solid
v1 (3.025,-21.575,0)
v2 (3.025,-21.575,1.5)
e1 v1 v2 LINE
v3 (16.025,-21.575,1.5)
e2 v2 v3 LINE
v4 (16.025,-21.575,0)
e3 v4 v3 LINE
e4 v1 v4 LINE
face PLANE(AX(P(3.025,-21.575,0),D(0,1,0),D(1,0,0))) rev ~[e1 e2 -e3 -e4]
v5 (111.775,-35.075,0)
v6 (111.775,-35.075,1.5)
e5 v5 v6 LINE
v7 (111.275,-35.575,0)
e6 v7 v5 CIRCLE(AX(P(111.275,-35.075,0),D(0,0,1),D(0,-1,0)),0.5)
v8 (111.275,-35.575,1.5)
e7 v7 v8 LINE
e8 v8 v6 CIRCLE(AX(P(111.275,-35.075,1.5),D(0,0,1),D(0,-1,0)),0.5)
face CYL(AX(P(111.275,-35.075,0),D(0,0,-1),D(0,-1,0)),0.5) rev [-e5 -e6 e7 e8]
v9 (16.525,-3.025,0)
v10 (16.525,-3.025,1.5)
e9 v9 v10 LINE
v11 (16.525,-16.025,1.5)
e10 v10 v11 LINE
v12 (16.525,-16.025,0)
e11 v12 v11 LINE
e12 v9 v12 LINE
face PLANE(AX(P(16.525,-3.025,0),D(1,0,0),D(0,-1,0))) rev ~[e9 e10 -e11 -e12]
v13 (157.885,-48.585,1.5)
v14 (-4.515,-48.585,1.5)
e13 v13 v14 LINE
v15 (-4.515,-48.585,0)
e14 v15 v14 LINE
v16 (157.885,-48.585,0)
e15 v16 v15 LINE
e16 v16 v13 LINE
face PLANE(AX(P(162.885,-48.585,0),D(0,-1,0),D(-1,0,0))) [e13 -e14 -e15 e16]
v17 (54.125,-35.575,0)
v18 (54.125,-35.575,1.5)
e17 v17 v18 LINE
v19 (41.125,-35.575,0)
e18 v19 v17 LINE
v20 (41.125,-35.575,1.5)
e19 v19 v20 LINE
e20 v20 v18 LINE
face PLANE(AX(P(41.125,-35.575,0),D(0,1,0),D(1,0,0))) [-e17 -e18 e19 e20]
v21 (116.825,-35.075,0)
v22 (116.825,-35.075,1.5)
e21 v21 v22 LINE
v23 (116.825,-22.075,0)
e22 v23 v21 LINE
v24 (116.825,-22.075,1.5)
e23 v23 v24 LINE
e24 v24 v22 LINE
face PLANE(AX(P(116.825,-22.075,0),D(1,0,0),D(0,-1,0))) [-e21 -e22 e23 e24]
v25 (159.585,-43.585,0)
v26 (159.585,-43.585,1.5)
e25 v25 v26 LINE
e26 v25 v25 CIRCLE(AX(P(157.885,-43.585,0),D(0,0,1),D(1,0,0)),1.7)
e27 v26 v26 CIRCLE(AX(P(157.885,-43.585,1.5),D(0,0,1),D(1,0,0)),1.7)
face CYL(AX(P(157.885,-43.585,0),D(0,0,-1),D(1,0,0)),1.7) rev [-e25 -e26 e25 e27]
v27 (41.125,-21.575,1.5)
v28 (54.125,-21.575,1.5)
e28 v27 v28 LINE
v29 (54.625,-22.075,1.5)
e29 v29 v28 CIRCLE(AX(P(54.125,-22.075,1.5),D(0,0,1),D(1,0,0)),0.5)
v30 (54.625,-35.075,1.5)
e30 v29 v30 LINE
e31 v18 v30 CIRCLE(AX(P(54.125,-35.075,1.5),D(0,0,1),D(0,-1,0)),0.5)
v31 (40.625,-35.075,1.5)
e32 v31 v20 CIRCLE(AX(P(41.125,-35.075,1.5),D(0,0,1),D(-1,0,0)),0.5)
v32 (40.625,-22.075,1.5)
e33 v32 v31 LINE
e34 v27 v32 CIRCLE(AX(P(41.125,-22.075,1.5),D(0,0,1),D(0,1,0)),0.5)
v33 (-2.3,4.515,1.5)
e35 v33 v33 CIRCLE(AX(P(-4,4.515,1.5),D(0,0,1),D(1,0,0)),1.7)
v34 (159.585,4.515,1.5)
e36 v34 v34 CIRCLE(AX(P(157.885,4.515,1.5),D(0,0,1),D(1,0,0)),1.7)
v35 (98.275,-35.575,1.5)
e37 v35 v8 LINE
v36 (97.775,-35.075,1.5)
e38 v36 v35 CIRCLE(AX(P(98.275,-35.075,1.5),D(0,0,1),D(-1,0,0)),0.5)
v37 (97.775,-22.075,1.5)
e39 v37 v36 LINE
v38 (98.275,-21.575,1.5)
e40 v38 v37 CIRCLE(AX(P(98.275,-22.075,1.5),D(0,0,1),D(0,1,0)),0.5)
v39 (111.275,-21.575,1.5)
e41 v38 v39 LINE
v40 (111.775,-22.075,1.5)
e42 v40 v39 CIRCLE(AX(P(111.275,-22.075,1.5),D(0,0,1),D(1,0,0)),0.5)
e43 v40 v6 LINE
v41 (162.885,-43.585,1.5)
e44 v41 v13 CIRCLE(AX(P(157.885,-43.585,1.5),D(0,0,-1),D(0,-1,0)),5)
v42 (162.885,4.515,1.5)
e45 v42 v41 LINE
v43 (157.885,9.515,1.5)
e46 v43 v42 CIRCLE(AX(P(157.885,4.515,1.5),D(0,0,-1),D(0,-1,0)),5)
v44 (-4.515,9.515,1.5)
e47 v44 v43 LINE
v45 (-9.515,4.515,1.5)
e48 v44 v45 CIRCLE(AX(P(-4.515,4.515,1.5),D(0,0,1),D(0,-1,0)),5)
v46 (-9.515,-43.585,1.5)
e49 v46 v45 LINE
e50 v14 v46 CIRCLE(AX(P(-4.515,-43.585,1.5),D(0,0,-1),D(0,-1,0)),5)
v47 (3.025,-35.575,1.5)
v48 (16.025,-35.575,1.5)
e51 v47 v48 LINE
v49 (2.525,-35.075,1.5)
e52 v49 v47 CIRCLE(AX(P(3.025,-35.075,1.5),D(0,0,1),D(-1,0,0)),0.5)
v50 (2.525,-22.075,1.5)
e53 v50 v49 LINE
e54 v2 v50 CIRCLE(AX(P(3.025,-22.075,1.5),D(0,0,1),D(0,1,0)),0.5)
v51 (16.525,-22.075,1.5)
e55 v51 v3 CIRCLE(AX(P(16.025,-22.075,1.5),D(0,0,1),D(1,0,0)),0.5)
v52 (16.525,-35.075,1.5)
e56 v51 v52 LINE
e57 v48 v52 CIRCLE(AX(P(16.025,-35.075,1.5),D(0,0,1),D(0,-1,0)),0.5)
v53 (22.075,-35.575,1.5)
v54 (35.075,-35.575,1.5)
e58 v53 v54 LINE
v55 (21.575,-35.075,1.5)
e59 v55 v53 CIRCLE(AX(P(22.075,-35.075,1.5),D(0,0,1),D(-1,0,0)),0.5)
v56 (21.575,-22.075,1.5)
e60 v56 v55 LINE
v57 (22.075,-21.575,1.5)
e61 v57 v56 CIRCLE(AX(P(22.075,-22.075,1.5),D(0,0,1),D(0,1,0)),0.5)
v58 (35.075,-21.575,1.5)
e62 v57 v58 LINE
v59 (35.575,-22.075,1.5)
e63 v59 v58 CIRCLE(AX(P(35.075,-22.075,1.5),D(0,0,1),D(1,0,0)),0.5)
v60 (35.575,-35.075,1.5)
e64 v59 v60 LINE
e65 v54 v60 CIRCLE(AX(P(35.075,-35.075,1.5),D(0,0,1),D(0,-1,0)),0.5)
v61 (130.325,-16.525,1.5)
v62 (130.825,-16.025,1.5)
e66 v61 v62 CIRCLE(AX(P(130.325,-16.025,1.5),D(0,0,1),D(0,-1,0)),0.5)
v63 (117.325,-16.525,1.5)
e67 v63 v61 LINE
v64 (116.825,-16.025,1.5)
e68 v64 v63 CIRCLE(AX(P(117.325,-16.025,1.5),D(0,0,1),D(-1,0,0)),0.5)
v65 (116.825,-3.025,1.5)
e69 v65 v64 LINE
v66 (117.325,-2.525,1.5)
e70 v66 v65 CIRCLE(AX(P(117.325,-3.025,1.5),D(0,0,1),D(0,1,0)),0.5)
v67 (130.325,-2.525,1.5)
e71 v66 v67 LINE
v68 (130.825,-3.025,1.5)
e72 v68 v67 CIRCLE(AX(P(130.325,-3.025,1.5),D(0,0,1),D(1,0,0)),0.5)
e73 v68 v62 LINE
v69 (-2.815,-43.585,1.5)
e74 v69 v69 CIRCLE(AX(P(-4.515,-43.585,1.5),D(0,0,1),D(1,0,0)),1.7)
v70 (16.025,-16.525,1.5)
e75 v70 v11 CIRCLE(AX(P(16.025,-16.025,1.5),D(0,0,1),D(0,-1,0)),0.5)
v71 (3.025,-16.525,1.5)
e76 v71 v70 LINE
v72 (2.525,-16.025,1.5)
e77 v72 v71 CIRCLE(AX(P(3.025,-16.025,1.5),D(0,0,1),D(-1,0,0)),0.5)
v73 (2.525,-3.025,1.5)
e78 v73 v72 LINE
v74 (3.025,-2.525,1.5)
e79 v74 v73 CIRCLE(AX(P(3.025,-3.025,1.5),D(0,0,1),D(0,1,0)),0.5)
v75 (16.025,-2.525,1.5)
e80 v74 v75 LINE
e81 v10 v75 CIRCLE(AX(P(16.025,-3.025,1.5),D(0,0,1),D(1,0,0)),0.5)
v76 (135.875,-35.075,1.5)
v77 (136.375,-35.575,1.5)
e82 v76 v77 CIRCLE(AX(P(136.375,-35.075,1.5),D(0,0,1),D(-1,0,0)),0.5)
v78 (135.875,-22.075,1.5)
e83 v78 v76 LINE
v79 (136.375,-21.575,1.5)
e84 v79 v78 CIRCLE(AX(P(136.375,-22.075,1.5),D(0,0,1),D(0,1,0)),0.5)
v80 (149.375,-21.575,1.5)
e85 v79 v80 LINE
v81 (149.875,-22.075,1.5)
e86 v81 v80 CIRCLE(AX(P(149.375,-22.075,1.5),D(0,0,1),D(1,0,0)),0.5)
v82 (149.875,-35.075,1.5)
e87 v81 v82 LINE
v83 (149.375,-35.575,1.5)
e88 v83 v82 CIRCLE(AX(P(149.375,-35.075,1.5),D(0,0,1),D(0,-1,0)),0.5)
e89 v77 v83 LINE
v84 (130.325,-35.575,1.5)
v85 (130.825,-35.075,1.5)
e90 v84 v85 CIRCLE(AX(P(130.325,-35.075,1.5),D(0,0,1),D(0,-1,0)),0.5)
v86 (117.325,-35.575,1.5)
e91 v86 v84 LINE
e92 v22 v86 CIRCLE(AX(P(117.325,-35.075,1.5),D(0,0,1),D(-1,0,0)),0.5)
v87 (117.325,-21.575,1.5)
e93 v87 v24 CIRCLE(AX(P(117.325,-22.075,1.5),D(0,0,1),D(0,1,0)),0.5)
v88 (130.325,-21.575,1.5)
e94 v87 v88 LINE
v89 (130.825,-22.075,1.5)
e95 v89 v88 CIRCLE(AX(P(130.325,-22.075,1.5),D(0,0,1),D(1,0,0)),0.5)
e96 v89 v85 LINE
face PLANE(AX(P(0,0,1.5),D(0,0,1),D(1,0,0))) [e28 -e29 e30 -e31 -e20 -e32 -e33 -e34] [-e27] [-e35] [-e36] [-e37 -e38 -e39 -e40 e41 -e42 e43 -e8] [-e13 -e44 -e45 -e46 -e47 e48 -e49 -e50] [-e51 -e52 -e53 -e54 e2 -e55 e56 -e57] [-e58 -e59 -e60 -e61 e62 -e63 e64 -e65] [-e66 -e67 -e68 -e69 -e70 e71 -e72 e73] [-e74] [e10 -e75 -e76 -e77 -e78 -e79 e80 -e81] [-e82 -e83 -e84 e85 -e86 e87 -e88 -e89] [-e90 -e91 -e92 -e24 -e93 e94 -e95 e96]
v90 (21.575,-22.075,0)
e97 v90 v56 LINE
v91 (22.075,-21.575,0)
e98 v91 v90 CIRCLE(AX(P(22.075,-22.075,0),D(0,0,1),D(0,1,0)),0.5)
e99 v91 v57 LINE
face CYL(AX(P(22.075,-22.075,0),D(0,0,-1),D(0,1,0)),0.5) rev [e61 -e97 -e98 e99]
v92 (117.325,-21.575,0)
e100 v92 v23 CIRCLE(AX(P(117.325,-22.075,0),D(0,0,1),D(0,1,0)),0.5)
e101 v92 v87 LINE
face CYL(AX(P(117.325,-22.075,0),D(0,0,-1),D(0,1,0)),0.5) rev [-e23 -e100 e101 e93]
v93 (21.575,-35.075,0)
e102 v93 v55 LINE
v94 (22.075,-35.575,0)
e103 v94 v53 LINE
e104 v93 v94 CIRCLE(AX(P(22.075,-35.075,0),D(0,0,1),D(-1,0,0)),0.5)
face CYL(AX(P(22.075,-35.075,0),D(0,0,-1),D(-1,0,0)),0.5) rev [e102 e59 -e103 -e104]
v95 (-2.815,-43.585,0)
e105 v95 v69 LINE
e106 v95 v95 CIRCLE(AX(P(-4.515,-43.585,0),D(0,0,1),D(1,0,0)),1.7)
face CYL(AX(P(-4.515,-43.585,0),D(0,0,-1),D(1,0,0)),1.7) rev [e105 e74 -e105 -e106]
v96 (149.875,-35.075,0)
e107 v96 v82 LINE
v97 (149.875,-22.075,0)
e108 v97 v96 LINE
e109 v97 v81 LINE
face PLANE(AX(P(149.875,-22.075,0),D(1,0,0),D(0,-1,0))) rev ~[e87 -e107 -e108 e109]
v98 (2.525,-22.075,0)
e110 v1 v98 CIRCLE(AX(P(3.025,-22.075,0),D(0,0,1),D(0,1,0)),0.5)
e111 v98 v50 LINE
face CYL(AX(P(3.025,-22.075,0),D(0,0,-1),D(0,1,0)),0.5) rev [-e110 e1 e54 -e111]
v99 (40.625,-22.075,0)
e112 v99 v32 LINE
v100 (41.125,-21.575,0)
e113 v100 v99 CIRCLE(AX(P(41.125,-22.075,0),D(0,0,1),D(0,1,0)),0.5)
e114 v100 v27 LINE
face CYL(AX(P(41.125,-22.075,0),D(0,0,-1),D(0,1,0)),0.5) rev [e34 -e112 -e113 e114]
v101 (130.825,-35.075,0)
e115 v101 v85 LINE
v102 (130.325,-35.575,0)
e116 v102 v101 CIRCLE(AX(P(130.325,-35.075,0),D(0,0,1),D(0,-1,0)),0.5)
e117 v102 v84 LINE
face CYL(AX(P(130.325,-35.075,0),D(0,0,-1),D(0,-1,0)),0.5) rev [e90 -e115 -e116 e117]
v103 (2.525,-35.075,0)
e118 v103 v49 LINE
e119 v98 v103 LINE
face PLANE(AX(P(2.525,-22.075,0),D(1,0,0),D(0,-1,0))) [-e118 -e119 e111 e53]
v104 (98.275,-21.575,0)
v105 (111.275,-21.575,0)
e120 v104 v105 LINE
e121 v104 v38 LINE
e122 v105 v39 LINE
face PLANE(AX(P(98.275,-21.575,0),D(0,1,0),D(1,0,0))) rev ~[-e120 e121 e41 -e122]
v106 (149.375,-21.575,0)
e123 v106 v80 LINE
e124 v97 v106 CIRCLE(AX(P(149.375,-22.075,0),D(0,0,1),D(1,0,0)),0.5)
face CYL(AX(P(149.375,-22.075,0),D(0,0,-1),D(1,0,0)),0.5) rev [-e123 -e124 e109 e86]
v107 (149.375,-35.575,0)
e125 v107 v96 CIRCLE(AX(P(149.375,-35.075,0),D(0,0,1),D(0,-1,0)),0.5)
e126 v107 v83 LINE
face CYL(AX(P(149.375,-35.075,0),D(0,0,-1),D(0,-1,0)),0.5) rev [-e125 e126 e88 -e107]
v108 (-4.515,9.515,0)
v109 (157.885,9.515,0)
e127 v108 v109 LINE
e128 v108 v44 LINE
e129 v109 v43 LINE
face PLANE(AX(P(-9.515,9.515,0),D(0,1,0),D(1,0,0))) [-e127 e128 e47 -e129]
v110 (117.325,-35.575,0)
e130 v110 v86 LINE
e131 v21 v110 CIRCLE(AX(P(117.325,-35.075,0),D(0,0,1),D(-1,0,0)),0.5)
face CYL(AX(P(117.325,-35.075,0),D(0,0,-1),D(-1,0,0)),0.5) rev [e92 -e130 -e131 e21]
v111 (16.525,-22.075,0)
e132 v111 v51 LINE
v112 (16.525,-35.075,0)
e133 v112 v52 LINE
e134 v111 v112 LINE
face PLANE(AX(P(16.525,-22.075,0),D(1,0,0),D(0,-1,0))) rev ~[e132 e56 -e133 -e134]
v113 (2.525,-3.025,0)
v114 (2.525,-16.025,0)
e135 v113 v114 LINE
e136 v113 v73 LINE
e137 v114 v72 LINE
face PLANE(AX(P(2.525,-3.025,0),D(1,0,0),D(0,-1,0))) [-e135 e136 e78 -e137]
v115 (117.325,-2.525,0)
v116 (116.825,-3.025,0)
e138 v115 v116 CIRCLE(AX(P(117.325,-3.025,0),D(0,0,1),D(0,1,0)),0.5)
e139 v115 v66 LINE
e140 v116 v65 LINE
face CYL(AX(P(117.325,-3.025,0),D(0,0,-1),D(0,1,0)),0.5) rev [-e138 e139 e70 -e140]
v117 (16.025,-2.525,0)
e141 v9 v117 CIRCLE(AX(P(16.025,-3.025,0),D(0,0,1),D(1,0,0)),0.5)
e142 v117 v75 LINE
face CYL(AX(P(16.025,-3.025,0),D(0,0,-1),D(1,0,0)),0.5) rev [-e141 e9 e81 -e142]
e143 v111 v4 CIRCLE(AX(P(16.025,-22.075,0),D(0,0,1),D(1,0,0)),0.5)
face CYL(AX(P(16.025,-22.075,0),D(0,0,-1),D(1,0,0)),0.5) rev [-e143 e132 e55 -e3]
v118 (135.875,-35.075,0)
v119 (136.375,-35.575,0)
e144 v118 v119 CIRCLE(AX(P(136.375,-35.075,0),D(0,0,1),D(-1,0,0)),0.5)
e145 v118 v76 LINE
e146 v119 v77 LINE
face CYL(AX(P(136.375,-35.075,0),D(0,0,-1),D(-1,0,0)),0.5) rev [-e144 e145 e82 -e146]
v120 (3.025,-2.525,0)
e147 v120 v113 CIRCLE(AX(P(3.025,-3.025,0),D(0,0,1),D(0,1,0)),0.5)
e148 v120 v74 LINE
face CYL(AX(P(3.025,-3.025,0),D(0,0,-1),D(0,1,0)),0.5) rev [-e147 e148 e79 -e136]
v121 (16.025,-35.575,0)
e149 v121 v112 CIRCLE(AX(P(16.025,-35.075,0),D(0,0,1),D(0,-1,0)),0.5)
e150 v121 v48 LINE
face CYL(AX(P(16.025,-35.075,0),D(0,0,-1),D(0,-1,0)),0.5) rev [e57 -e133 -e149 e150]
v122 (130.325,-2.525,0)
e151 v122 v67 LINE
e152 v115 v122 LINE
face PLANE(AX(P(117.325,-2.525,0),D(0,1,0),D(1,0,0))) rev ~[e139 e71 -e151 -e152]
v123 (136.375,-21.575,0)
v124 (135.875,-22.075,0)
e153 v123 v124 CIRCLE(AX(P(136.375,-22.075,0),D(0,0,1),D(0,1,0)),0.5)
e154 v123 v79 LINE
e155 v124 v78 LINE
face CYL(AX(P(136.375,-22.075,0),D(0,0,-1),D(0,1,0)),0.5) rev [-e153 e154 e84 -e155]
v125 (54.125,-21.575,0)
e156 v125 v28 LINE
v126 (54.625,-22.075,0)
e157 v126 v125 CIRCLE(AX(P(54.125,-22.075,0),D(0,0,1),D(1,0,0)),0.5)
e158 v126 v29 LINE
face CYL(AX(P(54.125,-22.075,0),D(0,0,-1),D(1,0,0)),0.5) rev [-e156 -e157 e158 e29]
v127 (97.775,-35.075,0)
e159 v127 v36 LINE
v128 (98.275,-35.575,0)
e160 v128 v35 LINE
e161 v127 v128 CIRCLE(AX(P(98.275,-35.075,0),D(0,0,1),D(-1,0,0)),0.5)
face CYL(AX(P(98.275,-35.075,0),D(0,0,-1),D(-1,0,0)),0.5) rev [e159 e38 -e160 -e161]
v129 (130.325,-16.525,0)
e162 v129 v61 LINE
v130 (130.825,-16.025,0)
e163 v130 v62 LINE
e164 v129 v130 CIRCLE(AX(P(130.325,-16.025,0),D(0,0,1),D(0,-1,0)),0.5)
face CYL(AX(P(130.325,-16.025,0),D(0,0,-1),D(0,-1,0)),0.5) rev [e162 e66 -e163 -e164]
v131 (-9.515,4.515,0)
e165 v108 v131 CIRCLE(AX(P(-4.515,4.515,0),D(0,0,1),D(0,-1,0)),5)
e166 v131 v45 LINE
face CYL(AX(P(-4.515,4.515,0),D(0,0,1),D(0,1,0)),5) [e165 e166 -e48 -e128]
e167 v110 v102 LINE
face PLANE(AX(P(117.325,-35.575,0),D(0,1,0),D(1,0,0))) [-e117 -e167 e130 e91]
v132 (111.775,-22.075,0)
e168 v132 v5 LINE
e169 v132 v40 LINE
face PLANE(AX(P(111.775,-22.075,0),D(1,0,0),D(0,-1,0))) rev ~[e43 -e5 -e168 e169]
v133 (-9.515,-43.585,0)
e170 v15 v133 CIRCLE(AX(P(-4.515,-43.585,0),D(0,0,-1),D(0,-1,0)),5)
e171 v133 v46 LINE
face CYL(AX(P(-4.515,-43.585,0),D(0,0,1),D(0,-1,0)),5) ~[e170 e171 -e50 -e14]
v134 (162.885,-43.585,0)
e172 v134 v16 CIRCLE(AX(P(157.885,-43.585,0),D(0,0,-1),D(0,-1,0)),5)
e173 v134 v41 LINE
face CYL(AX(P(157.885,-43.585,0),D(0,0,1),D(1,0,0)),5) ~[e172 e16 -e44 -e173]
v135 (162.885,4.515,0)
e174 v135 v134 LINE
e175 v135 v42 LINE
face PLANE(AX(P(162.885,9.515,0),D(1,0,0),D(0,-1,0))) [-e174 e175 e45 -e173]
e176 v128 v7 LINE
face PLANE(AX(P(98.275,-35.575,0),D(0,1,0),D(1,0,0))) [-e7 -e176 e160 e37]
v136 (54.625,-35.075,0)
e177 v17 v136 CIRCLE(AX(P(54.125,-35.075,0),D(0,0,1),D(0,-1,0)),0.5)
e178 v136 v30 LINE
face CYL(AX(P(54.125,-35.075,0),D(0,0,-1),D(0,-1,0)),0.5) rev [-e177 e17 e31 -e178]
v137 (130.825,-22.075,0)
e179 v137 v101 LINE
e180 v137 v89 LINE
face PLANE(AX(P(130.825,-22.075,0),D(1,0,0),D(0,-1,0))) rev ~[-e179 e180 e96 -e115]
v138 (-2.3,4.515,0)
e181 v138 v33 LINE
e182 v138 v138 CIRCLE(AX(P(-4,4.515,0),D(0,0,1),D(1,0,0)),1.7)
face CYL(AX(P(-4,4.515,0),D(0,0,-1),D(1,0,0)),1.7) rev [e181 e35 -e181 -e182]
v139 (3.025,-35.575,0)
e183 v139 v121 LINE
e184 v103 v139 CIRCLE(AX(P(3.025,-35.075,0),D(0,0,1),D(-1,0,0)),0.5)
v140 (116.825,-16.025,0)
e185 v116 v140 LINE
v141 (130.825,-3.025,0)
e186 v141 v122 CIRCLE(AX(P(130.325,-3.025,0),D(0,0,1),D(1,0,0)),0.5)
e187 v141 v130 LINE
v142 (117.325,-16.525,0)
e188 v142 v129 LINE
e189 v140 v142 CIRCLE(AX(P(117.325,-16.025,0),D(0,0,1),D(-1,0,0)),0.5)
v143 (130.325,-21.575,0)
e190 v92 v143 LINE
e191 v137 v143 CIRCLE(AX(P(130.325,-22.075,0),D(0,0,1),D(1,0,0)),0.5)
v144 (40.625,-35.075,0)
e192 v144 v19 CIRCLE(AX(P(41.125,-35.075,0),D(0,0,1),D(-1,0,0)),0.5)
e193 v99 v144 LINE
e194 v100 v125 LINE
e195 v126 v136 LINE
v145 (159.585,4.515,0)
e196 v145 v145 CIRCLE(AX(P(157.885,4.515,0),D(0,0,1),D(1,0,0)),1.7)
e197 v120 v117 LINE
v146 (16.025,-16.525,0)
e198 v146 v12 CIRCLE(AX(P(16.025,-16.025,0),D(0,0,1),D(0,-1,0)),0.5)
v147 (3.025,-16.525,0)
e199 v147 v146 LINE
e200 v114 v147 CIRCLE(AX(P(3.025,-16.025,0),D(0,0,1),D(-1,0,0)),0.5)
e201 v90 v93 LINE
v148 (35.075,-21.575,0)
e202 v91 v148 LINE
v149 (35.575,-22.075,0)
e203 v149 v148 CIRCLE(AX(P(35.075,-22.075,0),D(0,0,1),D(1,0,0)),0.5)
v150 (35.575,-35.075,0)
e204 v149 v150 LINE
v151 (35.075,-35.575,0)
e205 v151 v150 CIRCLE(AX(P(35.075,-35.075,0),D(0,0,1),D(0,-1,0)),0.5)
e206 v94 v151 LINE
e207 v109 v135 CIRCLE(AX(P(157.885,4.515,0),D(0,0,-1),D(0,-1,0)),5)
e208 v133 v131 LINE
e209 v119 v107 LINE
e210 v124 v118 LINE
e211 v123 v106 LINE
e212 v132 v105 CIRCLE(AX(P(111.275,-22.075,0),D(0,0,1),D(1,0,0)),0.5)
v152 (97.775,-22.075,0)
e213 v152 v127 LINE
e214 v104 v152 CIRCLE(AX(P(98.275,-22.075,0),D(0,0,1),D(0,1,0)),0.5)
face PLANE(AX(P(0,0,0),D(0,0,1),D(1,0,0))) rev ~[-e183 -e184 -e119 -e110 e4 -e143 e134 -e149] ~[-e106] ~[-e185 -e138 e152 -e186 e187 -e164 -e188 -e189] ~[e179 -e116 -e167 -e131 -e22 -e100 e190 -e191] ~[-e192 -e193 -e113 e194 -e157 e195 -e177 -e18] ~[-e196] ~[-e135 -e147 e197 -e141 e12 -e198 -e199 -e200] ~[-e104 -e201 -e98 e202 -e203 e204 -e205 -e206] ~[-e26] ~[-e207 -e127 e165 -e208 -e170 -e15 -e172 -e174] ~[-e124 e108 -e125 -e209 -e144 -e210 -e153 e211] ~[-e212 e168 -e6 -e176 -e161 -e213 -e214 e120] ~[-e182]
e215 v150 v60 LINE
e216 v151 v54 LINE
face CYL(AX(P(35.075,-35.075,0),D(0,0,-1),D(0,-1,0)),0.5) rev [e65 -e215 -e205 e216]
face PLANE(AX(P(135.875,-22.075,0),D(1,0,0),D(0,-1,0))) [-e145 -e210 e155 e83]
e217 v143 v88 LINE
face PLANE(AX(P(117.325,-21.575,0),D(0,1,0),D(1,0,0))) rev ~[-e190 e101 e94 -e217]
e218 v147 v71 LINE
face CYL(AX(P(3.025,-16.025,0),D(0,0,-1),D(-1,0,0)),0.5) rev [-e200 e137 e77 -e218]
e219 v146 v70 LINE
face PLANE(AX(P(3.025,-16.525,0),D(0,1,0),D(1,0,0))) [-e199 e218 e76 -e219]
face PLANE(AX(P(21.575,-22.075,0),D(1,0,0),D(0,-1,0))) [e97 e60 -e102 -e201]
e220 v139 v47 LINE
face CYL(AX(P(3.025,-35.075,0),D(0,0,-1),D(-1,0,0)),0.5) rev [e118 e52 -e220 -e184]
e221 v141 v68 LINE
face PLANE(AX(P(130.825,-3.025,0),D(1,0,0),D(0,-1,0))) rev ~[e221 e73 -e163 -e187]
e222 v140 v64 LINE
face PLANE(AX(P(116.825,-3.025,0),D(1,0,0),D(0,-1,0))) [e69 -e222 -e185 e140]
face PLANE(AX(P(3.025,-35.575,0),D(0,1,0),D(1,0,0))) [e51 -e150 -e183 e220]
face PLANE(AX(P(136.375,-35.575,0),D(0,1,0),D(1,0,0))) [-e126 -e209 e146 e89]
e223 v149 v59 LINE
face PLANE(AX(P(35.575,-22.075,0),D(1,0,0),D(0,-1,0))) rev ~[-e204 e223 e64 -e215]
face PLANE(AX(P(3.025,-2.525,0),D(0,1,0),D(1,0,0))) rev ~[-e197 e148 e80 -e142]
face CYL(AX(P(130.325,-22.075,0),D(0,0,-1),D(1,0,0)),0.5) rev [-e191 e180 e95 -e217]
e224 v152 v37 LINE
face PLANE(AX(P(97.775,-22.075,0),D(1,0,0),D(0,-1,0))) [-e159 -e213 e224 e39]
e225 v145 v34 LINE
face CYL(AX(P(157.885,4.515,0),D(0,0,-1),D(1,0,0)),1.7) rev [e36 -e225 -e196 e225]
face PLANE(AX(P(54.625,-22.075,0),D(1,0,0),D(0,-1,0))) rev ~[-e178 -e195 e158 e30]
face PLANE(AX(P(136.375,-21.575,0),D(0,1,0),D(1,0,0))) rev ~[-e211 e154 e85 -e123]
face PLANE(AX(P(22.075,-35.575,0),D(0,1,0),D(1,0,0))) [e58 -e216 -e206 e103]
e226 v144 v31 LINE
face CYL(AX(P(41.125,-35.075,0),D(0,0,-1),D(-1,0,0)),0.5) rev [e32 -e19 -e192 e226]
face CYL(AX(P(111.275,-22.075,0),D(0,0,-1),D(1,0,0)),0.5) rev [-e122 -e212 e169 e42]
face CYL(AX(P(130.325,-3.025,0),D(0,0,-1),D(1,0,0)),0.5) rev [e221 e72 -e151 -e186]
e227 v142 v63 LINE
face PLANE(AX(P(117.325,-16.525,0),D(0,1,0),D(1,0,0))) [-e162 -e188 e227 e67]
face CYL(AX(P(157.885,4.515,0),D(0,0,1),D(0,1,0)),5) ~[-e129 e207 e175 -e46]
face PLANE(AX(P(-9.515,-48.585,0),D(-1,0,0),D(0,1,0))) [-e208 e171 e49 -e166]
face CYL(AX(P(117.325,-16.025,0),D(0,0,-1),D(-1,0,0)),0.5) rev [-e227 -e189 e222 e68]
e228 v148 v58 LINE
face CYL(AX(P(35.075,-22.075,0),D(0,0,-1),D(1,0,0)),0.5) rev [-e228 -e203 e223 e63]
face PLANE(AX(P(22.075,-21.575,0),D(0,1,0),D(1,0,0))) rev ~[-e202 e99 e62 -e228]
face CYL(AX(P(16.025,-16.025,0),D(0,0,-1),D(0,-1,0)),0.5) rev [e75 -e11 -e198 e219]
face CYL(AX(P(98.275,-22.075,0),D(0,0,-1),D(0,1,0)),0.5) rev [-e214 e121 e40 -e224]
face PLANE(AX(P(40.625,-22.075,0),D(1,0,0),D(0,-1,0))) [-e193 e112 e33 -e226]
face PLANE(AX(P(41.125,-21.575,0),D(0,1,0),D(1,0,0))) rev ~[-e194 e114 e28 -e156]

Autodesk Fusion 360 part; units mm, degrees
sketch "plate" plane through (0, 0, 0) normal (0, 0, 1) x (1, 0, 0)
  line L0 (3.025, -2.525) -> (16.025, -2.525)
  line L1 (3.025, -16.525) -> (16.025, -16.525)
  line L2 (2.525, -3.025) -> (2.525, -16.025)
  line L3 (16.525, -3.025) -> (16.525, -16.025)
  arc A0 (3.025, -2.525) -> (2.525, -3.025) centre (3.025, -3.025) ccw
  arc A1 (16.525, -3.025) -> (16.025, -2.525) centre (16.025, -3.025) ccw
  arc A2 (2.525, -16.025) -> (3.025, -16.525) centre (3.025, -16.025) ccw
  arc A3 (16.025, -16.525) -> (16.525, -16.025) centre (16.025, -16.025) ccw
  line L4 (117.325, -2.525) -> (130.325, -2.525)
  line L5 (117.325, -16.525) -> (130.325, -16.525)
  line L6 (116.825, -3.025) -> (116.825, -16.025)
  line L7 (130.825, -3.025) -> (130.825, -16.025)
  arc A4 (117.325, -2.525) -> (116.825, -3.025) centre (117.325, -3.025) ccw
  arc A5 (130.825, -3.025) -> (130.325, -2.525) centre (130.325, -3.025) ccw
  arc A6 (116.825, -16.025) -> (117.325, -16.525) centre (117.325, -16.025) ccw
  arc A7 (130.325, -16.525) -> (130.825, -16.025) centre (130.325, -16.025) ccw
  line L8 (3.025, -21.575) -> (16.025, -21.575)
  line L9 (3.025, -35.575) -> (16.025, -35.575)
  line L10 (2.525, -22.075) -> (2.525, -35.075)
  line L11 (16.525, -22.075) -> (16.525, -35.075)
  arc A8 (3.025, -21.575) -> (2.525, -22.075) centre (3.025, -22.075) ccw
  arc A9 (16.525, -22.075) -> (16.025, -21.575) centre (16.025, -22.075) ccw
  arc A10 (2.525, -35.075) -> (3.025, -35.575) centre (3.025, -35.075) ccw
  arc A11 (16.025, -35.575) -> (16.525, -35.075) centre (16.025, -35.075) ccw
  line L12 (22.075, -21.575) -> (35.075, -21.575)
  line L13 (22.075, -35.575) -> (35.075, -35.575)
  line L14 (21.575, -22.075) -> (21.575, -35.075)
  line L15 (35.575, -22.075) -> (35.575, -35.075)
  arc A12 (22.075, -21.575) -> (21.575, -22.075) centre (22.075, -22.075) ccw
  arc A13 (35.575, -22.075) -> (35.075, -21.575) centre (35.075, -22.075) ccw
  arc A14 (21.575, -35.075) -> (22.075, -35.575) centre (22.075, -35.075) ccw
  arc A15 (35.075, -35.575) -> (35.575, -35.075) centre (35.075, -35.075) ccw
  line L16 (41.125, -21.575) -> (54.125, -21.575)
  line L17 (41.125, -35.575) -> (54.125, -35.575)
  line L18 (40.625, -22.075) -> (40.625, -35.075)
  line L19 (54.625, -22.075) -> (54.625, -35.075)
  arc A16 (41.125, -21.575) -> (40.625, -22.075) centre (41.125, -22.075) ccw
  arc A17 (54.625, -22.075) -> (54.125, -21.575) centre (54.125, -22.075) ccw
  arc A18 (40.625, -35.075) -> (41.125, -35.575) centre (41.125, -35.075) ccw
  arc A19 (54.125, -35.575) -> (54.625, -35.075) centre (54.125, -35.075) ccw
  line L20 (98.275, -21.575) -> (111.275, -21.575)
  line L21 (98.275, -35.575) -> (111.275, -35.575)
  line L22 (97.775, -22.075) -> (97.775, -35.075)
  line L23 (111.775, -22.075) -> (111.775, -35.075)
  arc A20 (98.275, -21.575) -> (97.775, -22.075) centre (98.275, -22.075) ccw
  arc A21 (111.775, -22.075) -> (111.275, -21.575) centre (111.275, -22.075) ccw
  arc A22 (97.775, -35.075) -> (98.275, -35.575) centre (98.275, -35.075) ccw
  arc A23 (111.275, -35.575) -> (111.775, -35.075) centre (111.275, -35.075) ccw
  line L24 (117.325, -21.575) -> (130.325, -21.575)
  line L25 (117.325, -35.575) -> (130.325, -35.575)
  line L26 (116.825, -22.075) -> (116.825, -35.075)
  line L27 (130.825, -22.075) -> (130.825, -35.075)
  arc A24 (117.325, -21.575) -> (116.825, -22.075) centre (117.325, -22.075) ccw
  arc A25 (130.825, -22.075) -> (130.325, -21.575) centre (130.325, -22.075) ccw
  arc A26 (116.825, -35.075) -> (117.325, -35.575) centre (117.325, -35.075) ccw
  arc A27 (130.325, -35.575) -> (130.825, -35.075) centre (130.325, -35.075) ccw
  line L28 (136.375, -21.575) -> (149.375, -21.575)
  line L29 (136.375, -35.575) -> (149.375, -35.575)
  line L30 (135.875, -22.075) -> (135.875, -35.075)
  line L31 (149.875, -22.075) -> (149.875, -35.075)
  arc A28 (136.375, -21.575) -> (135.875, -22.075) centre (136.375, -22.075) ccw
  arc A29 (149.875, -22.075) -> (149.375, -21.575) centre (149.375, -22.075) ccw
  arc A30 (135.875, -35.075) -> (136.375, -35.575) centre (136.375, -35.075) ccw
  arc A31 (149.375, -35.575) -> (149.875, -35.075) centre (149.375, -35.075) ccw
  line L32 (-9.515, 9.515) -> (162.885, 9.515)
  line L33 (162.885, 9.515) -> (162.885, -48.585)
  line L34 (162.885, -48.585) -> (-9.515, -48.585)
  line L35 (-9.515, -48.585) -> (-9.515, 9.515)
  circle A32 centre (-4, 4.515) radius 1.7
  circle A33 centre (157.885, 4.515) radius 1.7
  circle A34 centre (157.885, -43.585) radius 1.7
  circle A35 centre (-4.515, -43.585) radius 1.7
  dimension "d1" = 172.4
  dimension "d2" = 58.1
  dimension "d3" = 12.04
  dimension "d4" = 12.04
  dimension "d5" = 3.4
  dimension "d6" = 5
  dimension "d7" = 5.515
  dimension "d8" = 3.4
  dimension "d9" = 5
  dimension "d10" = 5
  dimension "d11" = 3.4
  dimension "d12" = 5
  dimension "d13" = 5
  dimension "d14" = 3.4
  dimension "d15" = 5
  dimension "d16" = 5
extrude "Extrude1" add sketch "plate" along normal blind 1.5
fillet "Fillet1" radius 5 4 edges at (162.885, -48.585, 0.75) (162.885, 9.515, 0.75) (-9.515, 9.515, 0.75) (-9.515, -48.585, 0.75)
